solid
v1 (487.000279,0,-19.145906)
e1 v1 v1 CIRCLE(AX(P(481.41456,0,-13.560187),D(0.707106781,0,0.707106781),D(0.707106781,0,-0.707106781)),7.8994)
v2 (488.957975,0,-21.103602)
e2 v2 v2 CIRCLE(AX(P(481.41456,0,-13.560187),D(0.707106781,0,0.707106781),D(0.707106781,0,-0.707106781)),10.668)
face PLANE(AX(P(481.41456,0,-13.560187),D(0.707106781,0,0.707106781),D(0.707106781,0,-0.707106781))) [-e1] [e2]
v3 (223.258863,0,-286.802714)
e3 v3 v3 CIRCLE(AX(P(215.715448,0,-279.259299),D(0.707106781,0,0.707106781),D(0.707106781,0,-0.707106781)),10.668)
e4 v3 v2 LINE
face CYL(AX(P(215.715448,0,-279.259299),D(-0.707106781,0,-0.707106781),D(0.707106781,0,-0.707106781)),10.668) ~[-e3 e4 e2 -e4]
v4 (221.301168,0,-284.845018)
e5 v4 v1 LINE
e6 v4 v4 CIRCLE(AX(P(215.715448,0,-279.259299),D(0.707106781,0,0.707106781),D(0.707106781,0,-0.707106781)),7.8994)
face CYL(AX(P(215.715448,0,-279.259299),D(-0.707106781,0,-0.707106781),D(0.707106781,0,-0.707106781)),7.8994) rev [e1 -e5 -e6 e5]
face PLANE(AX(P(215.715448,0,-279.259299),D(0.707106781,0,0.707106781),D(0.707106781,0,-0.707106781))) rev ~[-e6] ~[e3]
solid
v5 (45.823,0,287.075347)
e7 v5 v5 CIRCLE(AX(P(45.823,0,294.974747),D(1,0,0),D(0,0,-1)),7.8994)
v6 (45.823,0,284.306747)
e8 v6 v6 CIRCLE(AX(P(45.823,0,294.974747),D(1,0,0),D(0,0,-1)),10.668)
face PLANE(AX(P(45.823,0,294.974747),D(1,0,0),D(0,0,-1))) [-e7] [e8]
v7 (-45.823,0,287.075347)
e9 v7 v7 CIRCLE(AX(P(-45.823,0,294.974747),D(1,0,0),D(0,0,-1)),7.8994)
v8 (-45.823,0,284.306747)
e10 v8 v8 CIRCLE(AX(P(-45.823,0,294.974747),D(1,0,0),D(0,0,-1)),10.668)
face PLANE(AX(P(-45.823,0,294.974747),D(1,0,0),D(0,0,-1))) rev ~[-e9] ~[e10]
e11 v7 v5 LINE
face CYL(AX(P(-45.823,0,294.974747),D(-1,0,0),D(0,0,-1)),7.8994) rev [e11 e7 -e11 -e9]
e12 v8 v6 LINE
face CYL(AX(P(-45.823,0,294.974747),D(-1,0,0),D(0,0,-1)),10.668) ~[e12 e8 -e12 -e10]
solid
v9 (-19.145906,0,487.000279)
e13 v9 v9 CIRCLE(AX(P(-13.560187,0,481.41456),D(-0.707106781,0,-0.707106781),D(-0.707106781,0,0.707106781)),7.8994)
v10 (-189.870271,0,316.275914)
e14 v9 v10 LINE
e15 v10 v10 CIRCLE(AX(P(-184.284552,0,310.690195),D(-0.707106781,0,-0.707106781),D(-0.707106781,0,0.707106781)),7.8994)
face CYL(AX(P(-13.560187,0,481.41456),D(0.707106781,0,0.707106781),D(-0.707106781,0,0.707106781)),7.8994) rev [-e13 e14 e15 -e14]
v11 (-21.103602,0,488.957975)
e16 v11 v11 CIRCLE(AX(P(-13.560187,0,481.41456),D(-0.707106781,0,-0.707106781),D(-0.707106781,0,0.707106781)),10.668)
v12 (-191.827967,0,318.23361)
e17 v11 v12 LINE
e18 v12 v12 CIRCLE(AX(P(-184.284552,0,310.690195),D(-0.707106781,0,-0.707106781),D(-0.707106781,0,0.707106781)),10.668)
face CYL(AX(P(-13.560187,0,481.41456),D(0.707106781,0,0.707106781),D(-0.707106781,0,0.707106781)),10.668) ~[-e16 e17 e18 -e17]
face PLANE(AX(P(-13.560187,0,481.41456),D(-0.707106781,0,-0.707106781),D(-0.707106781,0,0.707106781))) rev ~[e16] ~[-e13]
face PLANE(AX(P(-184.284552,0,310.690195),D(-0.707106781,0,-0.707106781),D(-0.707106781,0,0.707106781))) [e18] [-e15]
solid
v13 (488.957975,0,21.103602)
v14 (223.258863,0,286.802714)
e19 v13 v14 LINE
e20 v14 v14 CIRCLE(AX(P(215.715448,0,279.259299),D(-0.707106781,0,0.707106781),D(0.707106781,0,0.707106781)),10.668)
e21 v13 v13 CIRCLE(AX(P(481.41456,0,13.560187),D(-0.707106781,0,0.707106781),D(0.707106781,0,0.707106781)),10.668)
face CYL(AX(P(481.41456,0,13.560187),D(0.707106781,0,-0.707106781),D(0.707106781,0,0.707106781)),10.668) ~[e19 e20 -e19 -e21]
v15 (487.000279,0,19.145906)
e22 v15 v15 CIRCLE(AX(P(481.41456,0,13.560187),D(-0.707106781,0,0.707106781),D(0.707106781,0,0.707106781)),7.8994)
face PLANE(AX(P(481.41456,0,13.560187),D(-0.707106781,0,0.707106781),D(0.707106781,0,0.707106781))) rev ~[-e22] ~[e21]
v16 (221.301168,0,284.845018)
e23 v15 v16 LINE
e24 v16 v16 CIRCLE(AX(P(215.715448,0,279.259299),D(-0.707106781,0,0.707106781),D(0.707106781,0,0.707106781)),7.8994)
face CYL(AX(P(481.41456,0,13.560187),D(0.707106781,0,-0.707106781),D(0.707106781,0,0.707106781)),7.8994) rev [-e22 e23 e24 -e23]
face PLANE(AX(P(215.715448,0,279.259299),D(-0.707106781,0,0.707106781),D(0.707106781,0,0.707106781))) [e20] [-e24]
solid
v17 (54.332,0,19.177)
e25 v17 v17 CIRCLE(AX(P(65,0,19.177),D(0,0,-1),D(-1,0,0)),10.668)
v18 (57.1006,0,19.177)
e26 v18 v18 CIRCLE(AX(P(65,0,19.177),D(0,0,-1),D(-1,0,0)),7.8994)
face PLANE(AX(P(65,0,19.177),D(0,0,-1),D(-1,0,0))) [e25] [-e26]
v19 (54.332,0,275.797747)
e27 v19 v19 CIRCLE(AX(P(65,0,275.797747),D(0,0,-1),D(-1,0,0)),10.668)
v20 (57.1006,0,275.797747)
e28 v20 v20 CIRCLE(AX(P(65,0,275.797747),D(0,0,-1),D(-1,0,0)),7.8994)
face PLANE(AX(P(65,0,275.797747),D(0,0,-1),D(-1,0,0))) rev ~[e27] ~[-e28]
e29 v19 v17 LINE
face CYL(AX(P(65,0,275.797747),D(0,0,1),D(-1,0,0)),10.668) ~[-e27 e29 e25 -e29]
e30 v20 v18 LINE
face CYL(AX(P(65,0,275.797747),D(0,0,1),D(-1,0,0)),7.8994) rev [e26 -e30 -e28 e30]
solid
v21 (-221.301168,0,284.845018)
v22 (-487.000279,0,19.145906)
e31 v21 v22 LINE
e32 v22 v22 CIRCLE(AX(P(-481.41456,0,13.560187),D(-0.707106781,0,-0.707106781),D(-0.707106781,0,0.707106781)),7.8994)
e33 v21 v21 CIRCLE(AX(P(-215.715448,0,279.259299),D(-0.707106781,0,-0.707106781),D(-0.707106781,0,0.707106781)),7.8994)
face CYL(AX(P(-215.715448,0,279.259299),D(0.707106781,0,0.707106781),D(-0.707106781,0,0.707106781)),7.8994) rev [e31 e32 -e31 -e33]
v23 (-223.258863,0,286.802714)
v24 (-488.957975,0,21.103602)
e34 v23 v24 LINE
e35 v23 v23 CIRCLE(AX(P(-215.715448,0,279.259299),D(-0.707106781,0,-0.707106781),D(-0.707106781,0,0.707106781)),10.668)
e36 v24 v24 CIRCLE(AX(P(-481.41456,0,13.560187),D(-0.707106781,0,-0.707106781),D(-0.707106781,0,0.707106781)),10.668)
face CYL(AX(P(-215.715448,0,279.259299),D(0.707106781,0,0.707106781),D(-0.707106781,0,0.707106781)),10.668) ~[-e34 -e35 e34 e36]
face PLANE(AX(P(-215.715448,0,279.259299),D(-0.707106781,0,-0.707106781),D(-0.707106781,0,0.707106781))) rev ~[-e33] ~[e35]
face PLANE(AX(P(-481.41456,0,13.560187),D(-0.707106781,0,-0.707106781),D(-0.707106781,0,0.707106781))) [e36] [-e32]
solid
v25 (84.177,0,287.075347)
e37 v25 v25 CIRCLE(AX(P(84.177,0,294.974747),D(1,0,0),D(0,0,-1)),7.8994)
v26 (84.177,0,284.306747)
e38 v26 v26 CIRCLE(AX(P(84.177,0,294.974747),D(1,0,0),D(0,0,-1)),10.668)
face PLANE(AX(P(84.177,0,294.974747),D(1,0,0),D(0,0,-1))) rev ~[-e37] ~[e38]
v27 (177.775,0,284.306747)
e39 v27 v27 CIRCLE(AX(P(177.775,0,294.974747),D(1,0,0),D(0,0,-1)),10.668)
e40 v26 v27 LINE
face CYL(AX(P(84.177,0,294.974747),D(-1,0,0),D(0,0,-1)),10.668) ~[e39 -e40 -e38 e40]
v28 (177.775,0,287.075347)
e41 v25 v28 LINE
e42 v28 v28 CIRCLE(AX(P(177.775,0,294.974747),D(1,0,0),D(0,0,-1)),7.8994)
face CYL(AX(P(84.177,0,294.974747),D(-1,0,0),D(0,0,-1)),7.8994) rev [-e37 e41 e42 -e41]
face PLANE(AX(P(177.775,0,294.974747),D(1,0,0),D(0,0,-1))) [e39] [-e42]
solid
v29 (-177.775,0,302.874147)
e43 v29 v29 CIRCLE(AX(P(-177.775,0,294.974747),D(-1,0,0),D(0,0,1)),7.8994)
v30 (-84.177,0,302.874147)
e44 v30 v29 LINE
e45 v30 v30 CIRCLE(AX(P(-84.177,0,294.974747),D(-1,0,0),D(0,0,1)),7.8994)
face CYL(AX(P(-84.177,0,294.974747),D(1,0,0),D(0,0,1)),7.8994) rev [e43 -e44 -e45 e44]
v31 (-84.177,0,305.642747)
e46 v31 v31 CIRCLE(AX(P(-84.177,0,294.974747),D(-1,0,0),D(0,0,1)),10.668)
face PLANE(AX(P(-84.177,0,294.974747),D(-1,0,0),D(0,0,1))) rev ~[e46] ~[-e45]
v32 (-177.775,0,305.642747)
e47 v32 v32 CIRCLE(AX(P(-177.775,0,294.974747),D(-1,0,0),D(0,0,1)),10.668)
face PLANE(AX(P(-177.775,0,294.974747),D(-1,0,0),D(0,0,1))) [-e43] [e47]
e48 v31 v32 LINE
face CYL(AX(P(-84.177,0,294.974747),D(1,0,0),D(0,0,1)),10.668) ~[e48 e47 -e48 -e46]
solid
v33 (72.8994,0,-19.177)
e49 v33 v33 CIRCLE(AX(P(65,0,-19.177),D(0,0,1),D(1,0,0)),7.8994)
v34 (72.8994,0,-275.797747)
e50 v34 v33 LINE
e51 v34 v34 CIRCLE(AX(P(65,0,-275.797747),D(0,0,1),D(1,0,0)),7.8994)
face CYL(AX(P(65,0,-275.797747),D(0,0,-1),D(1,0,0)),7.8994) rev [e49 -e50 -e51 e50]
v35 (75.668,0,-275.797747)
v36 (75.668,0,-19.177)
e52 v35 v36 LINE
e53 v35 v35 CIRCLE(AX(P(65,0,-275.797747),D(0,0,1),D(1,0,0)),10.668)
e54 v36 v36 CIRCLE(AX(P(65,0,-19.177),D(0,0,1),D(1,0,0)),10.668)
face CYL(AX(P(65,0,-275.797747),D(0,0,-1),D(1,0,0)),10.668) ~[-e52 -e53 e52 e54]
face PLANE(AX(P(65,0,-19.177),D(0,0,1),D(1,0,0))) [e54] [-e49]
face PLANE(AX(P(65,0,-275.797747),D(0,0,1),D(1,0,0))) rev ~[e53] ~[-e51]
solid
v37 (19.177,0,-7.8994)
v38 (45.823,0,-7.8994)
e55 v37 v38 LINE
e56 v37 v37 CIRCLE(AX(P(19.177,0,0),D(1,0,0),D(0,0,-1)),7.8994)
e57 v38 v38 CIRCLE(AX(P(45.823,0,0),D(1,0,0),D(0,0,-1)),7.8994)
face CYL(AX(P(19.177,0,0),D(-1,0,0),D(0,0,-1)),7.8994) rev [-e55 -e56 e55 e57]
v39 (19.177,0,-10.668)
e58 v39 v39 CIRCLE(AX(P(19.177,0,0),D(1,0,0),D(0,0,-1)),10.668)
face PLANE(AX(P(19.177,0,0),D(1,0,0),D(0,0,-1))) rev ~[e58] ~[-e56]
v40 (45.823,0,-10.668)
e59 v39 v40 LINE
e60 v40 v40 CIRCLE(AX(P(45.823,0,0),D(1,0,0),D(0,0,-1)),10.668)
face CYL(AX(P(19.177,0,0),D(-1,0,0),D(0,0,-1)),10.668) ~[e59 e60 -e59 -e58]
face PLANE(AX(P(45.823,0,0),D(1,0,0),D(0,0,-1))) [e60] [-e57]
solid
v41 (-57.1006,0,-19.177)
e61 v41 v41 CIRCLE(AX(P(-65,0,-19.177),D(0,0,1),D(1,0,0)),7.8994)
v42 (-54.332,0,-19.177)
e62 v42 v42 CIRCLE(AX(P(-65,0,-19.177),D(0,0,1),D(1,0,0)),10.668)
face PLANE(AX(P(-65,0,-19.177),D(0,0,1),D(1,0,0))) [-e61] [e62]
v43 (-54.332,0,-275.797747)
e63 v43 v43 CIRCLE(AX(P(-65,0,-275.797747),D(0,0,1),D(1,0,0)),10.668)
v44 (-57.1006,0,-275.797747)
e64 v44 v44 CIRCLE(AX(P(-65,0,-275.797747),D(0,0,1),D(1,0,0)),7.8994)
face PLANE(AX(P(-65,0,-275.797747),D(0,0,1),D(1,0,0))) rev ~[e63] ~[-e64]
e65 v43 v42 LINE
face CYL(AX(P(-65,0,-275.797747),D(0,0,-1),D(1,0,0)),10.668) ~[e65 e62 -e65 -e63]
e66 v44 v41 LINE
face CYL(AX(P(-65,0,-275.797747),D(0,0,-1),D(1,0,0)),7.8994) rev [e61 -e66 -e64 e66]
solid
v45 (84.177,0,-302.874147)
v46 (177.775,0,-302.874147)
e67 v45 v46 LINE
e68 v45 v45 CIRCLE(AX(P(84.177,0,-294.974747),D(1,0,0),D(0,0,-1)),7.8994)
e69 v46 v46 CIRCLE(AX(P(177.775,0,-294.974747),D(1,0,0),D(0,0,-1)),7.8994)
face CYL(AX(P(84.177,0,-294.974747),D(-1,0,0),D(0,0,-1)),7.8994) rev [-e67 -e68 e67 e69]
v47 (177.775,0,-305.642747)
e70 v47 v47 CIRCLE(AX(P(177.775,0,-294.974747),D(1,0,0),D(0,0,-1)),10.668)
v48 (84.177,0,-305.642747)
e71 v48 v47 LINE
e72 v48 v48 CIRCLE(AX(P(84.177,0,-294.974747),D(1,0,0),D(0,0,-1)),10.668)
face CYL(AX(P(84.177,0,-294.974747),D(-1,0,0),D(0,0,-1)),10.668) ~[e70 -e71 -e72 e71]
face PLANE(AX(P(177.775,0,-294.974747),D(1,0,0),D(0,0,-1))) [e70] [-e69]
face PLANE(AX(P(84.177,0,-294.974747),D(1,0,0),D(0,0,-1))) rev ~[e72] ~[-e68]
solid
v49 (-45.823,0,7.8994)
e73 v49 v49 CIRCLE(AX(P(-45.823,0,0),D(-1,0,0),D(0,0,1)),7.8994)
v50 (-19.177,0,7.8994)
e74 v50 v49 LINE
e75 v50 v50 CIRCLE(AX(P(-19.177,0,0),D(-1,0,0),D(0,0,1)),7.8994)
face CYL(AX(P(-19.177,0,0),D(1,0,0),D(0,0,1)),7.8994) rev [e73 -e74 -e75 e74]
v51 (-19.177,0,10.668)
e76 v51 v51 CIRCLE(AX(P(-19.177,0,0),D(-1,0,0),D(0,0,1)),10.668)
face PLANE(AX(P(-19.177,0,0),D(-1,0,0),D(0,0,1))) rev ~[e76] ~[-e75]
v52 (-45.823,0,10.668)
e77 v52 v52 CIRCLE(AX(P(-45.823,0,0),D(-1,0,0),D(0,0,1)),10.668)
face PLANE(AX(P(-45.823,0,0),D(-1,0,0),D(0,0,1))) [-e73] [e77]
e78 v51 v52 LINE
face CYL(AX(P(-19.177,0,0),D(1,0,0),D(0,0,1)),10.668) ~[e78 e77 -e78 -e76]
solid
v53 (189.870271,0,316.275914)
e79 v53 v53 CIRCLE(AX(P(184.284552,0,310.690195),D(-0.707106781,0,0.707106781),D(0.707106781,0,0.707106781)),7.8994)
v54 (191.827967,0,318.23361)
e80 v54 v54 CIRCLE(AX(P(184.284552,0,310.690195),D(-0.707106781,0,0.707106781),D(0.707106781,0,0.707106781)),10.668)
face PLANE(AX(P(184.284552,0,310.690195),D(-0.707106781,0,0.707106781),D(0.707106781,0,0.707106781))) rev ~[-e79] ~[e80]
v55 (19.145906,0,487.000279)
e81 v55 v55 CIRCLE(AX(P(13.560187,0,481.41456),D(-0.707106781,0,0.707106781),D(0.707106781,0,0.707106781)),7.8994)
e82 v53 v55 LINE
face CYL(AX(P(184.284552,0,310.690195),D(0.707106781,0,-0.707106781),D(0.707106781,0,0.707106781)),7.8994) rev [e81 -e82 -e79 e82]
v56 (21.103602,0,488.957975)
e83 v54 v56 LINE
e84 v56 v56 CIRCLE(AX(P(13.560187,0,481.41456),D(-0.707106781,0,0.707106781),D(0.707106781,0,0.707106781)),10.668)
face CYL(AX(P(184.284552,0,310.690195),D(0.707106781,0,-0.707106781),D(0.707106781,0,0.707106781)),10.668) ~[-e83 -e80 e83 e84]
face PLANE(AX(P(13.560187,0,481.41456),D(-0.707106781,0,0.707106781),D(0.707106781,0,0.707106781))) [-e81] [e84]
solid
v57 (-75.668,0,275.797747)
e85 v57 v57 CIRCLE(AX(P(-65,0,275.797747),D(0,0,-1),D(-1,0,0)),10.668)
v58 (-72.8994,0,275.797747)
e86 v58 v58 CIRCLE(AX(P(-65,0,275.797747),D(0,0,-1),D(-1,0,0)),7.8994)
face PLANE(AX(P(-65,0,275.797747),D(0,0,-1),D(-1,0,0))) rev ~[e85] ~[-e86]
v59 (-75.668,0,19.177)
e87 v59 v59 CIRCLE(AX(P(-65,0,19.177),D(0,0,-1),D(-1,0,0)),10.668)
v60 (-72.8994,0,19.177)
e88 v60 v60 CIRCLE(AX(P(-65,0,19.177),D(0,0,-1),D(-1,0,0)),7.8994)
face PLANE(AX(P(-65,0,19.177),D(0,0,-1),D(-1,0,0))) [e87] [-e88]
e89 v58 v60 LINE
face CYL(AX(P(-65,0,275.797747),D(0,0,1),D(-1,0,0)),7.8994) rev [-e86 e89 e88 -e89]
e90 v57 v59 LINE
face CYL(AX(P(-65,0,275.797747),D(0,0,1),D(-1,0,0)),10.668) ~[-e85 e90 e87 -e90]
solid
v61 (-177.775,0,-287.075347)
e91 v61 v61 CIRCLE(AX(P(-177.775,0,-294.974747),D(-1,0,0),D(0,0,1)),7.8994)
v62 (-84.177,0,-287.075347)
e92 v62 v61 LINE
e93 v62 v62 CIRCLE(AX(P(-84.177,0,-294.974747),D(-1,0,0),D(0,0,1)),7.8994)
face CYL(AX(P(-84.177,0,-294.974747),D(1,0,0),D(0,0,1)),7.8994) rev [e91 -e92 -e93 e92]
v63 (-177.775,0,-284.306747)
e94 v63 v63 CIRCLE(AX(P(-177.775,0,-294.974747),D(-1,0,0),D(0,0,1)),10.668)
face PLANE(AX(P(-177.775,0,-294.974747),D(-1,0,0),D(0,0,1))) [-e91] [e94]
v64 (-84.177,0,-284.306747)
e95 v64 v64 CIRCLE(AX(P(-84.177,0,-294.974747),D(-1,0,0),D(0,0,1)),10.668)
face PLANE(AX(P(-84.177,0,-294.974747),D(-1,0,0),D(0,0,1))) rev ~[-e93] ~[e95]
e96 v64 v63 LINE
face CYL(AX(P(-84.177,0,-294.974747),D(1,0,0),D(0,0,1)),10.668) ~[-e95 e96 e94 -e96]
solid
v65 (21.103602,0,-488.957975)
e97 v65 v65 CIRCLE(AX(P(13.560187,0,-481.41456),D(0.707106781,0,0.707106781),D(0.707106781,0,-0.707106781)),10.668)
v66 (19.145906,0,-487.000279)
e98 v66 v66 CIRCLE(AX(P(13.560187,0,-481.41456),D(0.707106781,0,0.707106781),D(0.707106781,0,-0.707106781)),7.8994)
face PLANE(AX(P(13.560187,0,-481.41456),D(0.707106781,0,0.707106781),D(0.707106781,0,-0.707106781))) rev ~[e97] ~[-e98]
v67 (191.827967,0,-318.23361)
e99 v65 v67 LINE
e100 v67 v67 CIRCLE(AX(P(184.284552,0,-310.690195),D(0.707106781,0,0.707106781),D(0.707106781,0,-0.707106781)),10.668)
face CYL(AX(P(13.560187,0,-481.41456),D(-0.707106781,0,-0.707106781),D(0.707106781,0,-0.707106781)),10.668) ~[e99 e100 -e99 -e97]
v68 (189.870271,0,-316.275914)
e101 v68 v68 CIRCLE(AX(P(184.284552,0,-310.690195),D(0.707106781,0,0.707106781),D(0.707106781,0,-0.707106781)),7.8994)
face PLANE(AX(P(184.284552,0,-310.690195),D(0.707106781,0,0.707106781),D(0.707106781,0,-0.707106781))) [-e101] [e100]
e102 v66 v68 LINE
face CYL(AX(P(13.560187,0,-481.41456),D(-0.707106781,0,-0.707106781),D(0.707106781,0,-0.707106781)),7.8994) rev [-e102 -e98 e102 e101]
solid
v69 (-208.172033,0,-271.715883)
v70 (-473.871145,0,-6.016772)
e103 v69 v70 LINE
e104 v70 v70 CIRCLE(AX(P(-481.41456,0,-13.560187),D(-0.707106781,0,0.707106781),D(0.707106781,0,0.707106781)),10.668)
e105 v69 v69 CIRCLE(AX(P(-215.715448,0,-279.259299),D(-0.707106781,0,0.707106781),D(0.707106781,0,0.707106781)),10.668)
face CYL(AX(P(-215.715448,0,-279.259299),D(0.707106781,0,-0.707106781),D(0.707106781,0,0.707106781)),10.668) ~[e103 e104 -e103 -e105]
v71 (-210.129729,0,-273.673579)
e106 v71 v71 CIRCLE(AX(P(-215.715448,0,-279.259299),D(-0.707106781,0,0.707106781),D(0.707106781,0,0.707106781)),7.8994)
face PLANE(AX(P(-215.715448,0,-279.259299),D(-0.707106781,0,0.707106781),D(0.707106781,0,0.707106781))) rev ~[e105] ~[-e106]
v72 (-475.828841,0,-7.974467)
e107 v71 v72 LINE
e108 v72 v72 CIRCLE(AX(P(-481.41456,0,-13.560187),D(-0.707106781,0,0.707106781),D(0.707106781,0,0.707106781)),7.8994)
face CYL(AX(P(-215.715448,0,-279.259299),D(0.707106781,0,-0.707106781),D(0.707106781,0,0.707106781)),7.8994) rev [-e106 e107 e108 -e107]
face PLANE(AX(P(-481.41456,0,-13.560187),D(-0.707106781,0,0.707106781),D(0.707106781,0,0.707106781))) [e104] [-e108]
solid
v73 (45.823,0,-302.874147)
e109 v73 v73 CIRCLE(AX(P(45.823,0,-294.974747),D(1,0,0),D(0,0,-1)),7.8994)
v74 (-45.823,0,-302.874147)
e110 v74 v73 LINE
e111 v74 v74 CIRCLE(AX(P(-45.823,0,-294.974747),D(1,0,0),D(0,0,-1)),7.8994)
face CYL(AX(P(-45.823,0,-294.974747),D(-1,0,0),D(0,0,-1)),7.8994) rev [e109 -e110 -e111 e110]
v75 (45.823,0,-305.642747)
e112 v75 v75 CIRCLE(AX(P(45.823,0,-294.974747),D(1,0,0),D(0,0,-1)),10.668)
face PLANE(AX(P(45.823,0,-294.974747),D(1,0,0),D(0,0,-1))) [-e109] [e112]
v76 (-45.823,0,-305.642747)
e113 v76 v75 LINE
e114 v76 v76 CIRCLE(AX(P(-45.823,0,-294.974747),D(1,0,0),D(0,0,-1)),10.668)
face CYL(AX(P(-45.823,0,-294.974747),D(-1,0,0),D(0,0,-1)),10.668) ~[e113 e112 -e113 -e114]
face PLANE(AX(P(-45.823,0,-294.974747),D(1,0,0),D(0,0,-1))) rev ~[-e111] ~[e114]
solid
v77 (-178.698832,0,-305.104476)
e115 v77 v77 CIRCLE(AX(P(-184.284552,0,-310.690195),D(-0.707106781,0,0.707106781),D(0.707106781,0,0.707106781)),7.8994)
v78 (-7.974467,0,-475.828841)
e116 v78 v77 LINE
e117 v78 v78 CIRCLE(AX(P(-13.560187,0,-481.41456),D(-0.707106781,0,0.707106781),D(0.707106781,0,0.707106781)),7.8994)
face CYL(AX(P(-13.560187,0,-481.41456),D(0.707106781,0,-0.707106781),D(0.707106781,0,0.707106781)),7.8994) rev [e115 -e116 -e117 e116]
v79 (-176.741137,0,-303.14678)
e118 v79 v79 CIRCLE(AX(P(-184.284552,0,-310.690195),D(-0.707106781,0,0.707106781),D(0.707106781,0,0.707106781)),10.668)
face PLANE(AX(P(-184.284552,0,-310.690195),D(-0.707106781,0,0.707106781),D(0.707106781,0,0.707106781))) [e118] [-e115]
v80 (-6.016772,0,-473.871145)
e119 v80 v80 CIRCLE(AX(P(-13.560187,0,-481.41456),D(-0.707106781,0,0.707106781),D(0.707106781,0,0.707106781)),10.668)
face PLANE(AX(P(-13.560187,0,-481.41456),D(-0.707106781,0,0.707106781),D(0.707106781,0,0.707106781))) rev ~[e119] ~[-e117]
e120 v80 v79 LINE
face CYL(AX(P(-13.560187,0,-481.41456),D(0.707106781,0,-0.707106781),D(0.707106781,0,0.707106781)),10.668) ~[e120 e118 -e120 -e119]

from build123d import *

# Parameters (mm, degrees)
SKETCH1_R                  = 10.668
SKETCH1_R_2                = 7.8994
PIPE_0_5_SCH_40_3_DEPTH    = 375.755287525
SKETCH1_ON_SEGMENT_2_R     = 10.668
SKETCH1_ON_SEGMENT_2_R_2   = 7.8994
PIPE_0_5_SCH_40_3_2_DEPTH  = 241.440712475
SKETCH1_ON_SEGMENT_3_R     = 10.668
SKETCH1_ON_SEGMENT_3_R_2   = 7.8994
PIPE_0_5_SCH_40_3_3_DEPTH  = 375.755287525
SKETCH1_ON_SEGMENT_4_R     = 10.668
SKETCH1_ON_SEGMENT_4_R_2   = 7.8994
PIPE_0_5_SCH_40_3_4_DEPTH  = 241.440712475
SKETCH1_ON_SEGMENT_5_R     = 10.668
SKETCH1_ON_SEGMENT_5_R_2   = 7.8994
PIPE_0_5_SCH_40_3_5_DEPTH  = 375.755287525
SKETCH1_ON_SEGMENT_6_R     = 10.668
SKETCH1_ON_SEGMENT_6_R_2   = 7.8994
PIPE_0_5_SCH_40_3_6_DEPTH  = 241.440712475
SKETCH1_ON_SEGMENT_7_R     = 10.668
SKETCH1_ON_SEGMENT_7_R_2   = 7.8994
PIPE_0_5_SCH_40_3_7_DEPTH  = 241.440712475
SKETCH1_ON_SEGMENT_8_R     = 10.668
SKETCH1_ON_SEGMENT_8_R_2   = 7.8994
PIPE_0_5_SCH_40_3_8_DEPTH  = 375.755287525
SKETCH1_ON_SEGMENT_9_R     = 10.668
SKETCH1_ON_SEGMENT_9_R_2   = 7.8994
PIPE_0_5_SCH_40_3_9_DEPTH  = 256.620746831
SKETCH1_ON_SEGMENT_10_R    = 10.668
SKETCH1_ON_SEGMENT_10_R_2  = 7.8994
PIPE_0_5_SCH_40_3_10_DEPTH = 256.620746831
SKETCH1_ON_SEGMENT_11_R    = 10.668
SKETCH1_ON_SEGMENT_11_R_2  = 7.8994
PIPE_0_5_SCH_40_3_11_DEPTH = 256.620746831
SKETCH1_ON_SEGMENT_12_R    = 10.668
SKETCH1_ON_SEGMENT_12_R_2  = 7.8994
PIPE_0_5_SCH_40_3_12_DEPTH = 256.620746831
SKETCH1_ON_SEGMENT_13_R    = 10.668
SKETCH1_ON_SEGMENT_13_R_2  = 7.8994
PIPE_0_5_SCH_40_3_13_DEPTH = 93.598
SKETCH1_ON_SEGMENT_14_R    = 10.668
SKETCH1_ON_SEGMENT_14_R_2  = 7.8994
PIPE_0_5_SCH_40_3_14_DEPTH = 91.646
SKETCH1_ON_SEGMENT_15_R    = 10.668
SKETCH1_ON_SEGMENT_15_R_2  = 7.8994
PIPE_0_5_SCH_40_3_15_DEPTH = 93.598
SKETCH1_ON_SEGMENT_16_R    = 10.668
SKETCH1_ON_SEGMENT_16_R_2  = 7.8994
PIPE_0_5_SCH_40_3_16_DEPTH = 26.646
SKETCH1_ON_SEGMENT_17_R    = 10.668
SKETCH1_ON_SEGMENT_17_R_2  = 7.8994
PIPE_0_5_SCH_40_3_17_DEPTH = 26.646
SKETCH1_ON_SEGMENT_18_R    = 10.668
SKETCH1_ON_SEGMENT_18_R_2  = 7.8994
PIPE_0_5_SCH_40_3_18_DEPTH = 93.598
SKETCH1_ON_SEGMENT_19_R    = 10.668
SKETCH1_ON_SEGMENT_19_R_2  = 7.8994
PIPE_0_5_SCH_40_3_19_DEPTH = 91.646
SKETCH1_ON_SEGMENT_20_R    = 10.668
SKETCH1_ON_SEGMENT_20_R_2  = 7.8994
PIPE_0_5_SCH_40_3_20_DEPTH = 93.598


with BuildPart() as part:
    # Sketch1 → Pipe 0.5 SCH 40(3) (new body)
    with BuildSketch(Plane(origin=(-215.715448212, 0, -279.259298619), x_dir=(0.7071067811865476, 0, 0.7071067811865475), z_dir=(-0.7071067811865475, 0, 0.7071067811865476))):
        Circle(SKETCH1_R)
        Circle(SKETCH1_R_2, mode=Mode.SUBTRACT)
    extrude(amount=PIPE_0_5_SCH_40_3_DEPTH)


with BuildPart() as body_2:
    # Sketch1 on segment 2 (carried to segment 2) → Pipe 0.5 SCH 40_3 2 (new body)
    with BuildSketch(Plane(origin=(-13.560186743, 0, -481.414560088), x_dir=(0.707106781, 0, 0.707106781), z_dir=(-0.707106781, 0, 0.707106781))):
        Circle(SKETCH1_ON_SEGMENT_2_R)
        Circle(SKETCH1_ON_SEGMENT_2_R_2, mode=Mode.SUBTRACT)
    extrude(amount=PIPE_0_5_SCH_40_3_2_DEPTH)


with BuildPart() as body_3:
    # Sketch1 on segment 3 (carried to segment 3) → Pipe 0.5 SCH 40_3 3 (new body)
    with BuildSketch(Plane(origin=(481.414560088, 0, 13.560186743), x_dir=(0.707106781, 0, 0.707106781), z_dir=(-0.707106781, 0, 0.707106781))):
        Circle(SKETCH1_ON_SEGMENT_3_R)
        Circle(SKETCH1_ON_SEGMENT_3_R_2, mode=Mode.SUBTRACT)
    extrude(amount=PIPE_0_5_SCH_40_3_3_DEPTH)


with BuildPart() as body_4:
    # Sketch1 on segment 4 (carried to segment 4) → Pipe 0.5 SCH 40_3 4 (new body)
    with BuildSketch(Plane(origin=(184.284551788, 0, 310.690195042), x_dir=(0.707106781, 0, 0.707106781), z_dir=(-0.707106781, 0, 0.707106781))):
        Circle(SKETCH1_ON_SEGMENT_4_R)
        Circle(SKETCH1_ON_SEGMENT_4_R_2, mode=Mode.SUBTRACT)
    extrude(amount=PIPE_0_5_SCH_40_3_4_DEPTH)


with BuildPart() as body_5:
    # Sketch1 on segment 5 (carried to segment 5) → Pipe 0.5 SCH 40_3 5 (new body)
    with BuildSketch(Plane(origin=(-215.715448212, 0, 279.259298619), x_dir=(-0.707106781, 0, 0.707106781), z_dir=(-0.707106781, 0, -0.707106781))):
        Circle(SKETCH1_ON_SEGMENT_5_R)
        Circle(SKETCH1_ON_SEGMENT_5_R_2, mode=Mode.SUBTRACT)
    extrude(amount=PIPE_0_5_SCH_40_3_5_DEPTH)


with BuildPart() as body_6:
    # Sketch1 on segment 6 (carried to segment 6) → Pipe 0.5 SCH 40_3 6 (new body)
    with BuildSketch(Plane(origin=(-13.560186743, 0, 481.414560088), x_dir=(-0.707106781, 0, 0.707106781), z_dir=(-0.707106781, 0, -0.707106781))):
        Circle(SKETCH1_ON_SEGMENT_6_R)
        Circle(SKETCH1_ON_SEGMENT_6_R_2, mode=Mode.SUBTRACT)
    extrude(amount=PIPE_0_5_SCH_40_3_6_DEPTH)


with BuildPart() as body_7:
    # Sketch1 on segment 7 (carried to segment 7) → Pipe 0.5 SCH 40_3 7 (new body)
    with BuildSketch(Plane(origin=(13.560186743, 0, -481.414560088), x_dir=(0.707106781, 0, -0.707106781), z_dir=(0.707106781, 0, 0.707106781))):
        Circle(SKETCH1_ON_SEGMENT_7_R)
        Circle(SKETCH1_ON_SEGMENT_7_R_2, mode=Mode.SUBTRACT)
    extrude(amount=PIPE_0_5_SCH_40_3_7_DEPTH)


with BuildPart() as body_8:
    # Sketch1 on segment 8 (carried to segment 8) → Pipe 0.5 SCH 40_3 8 (new body)
    with BuildSketch(Plane(origin=(215.715448212, 0, -279.259298619), x_dir=(0.707106781, 0, -0.707106781), z_dir=(0.707106781, 0, 0.707106781))):
        Circle(SKETCH1_ON_SEGMENT_8_R)
        Circle(SKETCH1_ON_SEGMENT_8_R_2, mode=Mode.SUBTRACT)
    extrude(amount=PIPE_0_5_SCH_40_3_8_DEPTH)


with BuildPart() as body_9:
    # Sketch1 on segment 9 (carried to segment 9) → Pipe 0.5 SCH 40_3 9 (new body)
    with BuildSketch(Plane(origin=(-65, 0, -275.797746831), x_dir=(1, 0, 0), z_dir=(0, 0, 1))):
        Circle(SKETCH1_ON_SEGMENT_9_R)
        Circle(SKETCH1_ON_SEGMENT_9_R_2, mode=Mode.SUBTRACT)
    extrude(amount=PIPE_0_5_SCH_40_3_9_DEPTH)


with BuildPart() as body_10:
    # Sketch1 on segment 10 (carried to segment 10) → Pipe 0.5 SCH 40_3 10 (new body)
    with BuildSketch(Plane(origin=(65, 0, -275.797746831), x_dir=(1, 0, 0), z_dir=(0, 0, 1))):
        Circle(SKETCH1_ON_SEGMENT_10_R)
        Circle(SKETCH1_ON_SEGMENT_10_R_2, mode=Mode.SUBTRACT)
    extrude(amount=PIPE_0_5_SCH_40_3_10_DEPTH)


with BuildPart() as body_11:
    # Sketch1 on segment 11 (carried to segment 11) → Pipe 0.5 SCH 40_3 11 (new body)
    with BuildSketch(Plane(origin=(-65, 0, 275.797746831), x_dir=(-1, 0, 0), z_dir=(0, 0, -1))):
        Circle(SKETCH1_ON_SEGMENT_11_R)
        Circle(SKETCH1_ON_SEGMENT_11_R_2, mode=Mode.SUBTRACT)
    extrude(amount=PIPE_0_5_SCH_40_3_11_DEPTH)


with BuildPart() as body_12:
    # Sketch1 on segment 12 (carried to segment 12) → Pipe 0.5 SCH 40_3 12 (new body)
    with BuildSketch(Plane(origin=(65, 0, 275.797746831), x_dir=(-1, 0, 0), z_dir=(0, 0, -1))):
        Circle(SKETCH1_ON_SEGMENT_12_R)
        Circle(SKETCH1_ON_SEGMENT_12_R_2, mode=Mode.SUBTRACT)
    extrude(amount=PIPE_0_5_SCH_40_3_12_DEPTH)


with BuildPart() as body_13:
    # Sketch1 on segment 13 (carried to segment 13) → Pipe 0.5 SCH 40_3 13 (new body)
    with BuildSketch(Plane(origin=(-84.177, 0, 294.974746831), x_dir=(0, 0, 1), z_dir=(-1, 0, 0))):
        Circle(SKETCH1_ON_SEGMENT_13_R)
        Circle(SKETCH1_ON_SEGMENT_13_R_2, mode=Mode.SUBTRACT)
    extrude(amount=PIPE_0_5_SCH_40_3_13_DEPTH)


with BuildPart() as body_14:
    # Sketch1 on segment 14 (carried to segment 14) → Pipe 0.5 SCH 40_3 14 (new body)
    with BuildSketch(Plane(origin=(-45.823, 0, 294.974746831), x_dir=(0, 0, -1), z_dir=(1, 0, 0))):
        Circle(SKETCH1_ON_SEGMENT_14_R)
        Circle(SKETCH1_ON_SEGMENT_14_R_2, mode=Mode.SUBTRACT)
    extrude(amount=PIPE_0_5_SCH_40_3_14_DEPTH)


with BuildPart() as body_15:
    # Sketch1 on segment 15 (carried to segment 15) → Pipe 0.5 SCH 40_3 15 (new body)
    with BuildSketch(Plane(origin=(84.177, 0, 294.974746831), x_dir=(0, 0, -1), z_dir=(1, 0, 0))):
        Circle(SKETCH1_ON_SEGMENT_15_R)
        Circle(SKETCH1_ON_SEGMENT_15_R_2, mode=Mode.SUBTRACT)
    extrude(amount=PIPE_0_5_SCH_40_3_15_DEPTH)


with BuildPart() as body_16:
    # Sketch1 on segment 16 (carried to segment 16) → Pipe 0.5 SCH 40_3 16 (new body)
    with BuildSketch(Plane.ZY.offset(19.177)):
        Circle(SKETCH1_ON_SEGMENT_16_R)
        Circle(SKETCH1_ON_SEGMENT_16_R_2, mode=Mode.SUBTRACT)
    extrude(amount=PIPE_0_5_SCH_40_3_16_DEPTH)


with BuildPart() as body_17:
    # Sketch1 on segment 17 (carried to segment 17) → Pipe 0.5 SCH 40_3 17 (new body)
    with BuildSketch(Plane(origin=(19.177, 0, 0), x_dir=(0, 0, -1), z_dir=(1, 0, 0))):
        Circle(SKETCH1_ON_SEGMENT_17_R)
        Circle(SKETCH1_ON_SEGMENT_17_R_2, mode=Mode.SUBTRACT)
    extrude(amount=PIPE_0_5_SCH_40_3_17_DEPTH)


with BuildPart() as body_18:
    # Sketch1 on segment 18 (carried to segment 18) → Pipe 0.5 SCH 40_3 18 (new body)
    with BuildSketch(Plane(origin=(-84.177, 0, -294.974746831), x_dir=(0, 0, 1), z_dir=(-1, 0, 0))):
        Circle(SKETCH1_ON_SEGMENT_18_R)
        Circle(SKETCH1_ON_SEGMENT_18_R_2, mode=Mode.SUBTRACT)
    extrude(amount=PIPE_0_5_SCH_40_3_18_DEPTH)


with BuildPart() as body_19:
    # Sketch1 on segment 19 (carried to segment 19) → Pipe 0.5 SCH 40_3 19 (new body)
    with BuildSketch(Plane(origin=(-45.823, 0, -294.974746831), x_dir=(0, 0, -1), z_dir=(1, 0, 0))):
        Circle(SKETCH1_ON_SEGMENT_19_R)
        Circle(SKETCH1_ON_SEGMENT_19_R_2, mode=Mode.SUBTRACT)
    extrude(amount=PIPE_0_5_SCH_40_3_19_DEPTH)


with BuildPart() as body_20:
    # Sketch1 on segment 20 (carried to segment 20) → Pipe 0.5 SCH 40_3 20 (new body)
    with BuildSketch(Plane(origin=(84.177, 0, -294.974746831), x_dir=(0, 0, -1), z_dir=(1, 0, 0))):
        Circle(SKETCH1_ON_SEGMENT_20_R)
        Circle(SKETCH1_ON_SEGMENT_20_R_2, mode=Mode.SUBTRACT)
    extrude(amount=PIPE_0_5_SCH_40_3_20_DEPTH)


solid = Compound([part.part, body_2.part, body_3.part, body_4.part, body_5.part, body_6.part, body_7.part, body_8.part, body_9.part, body_10.part, body_11.part, body_12.part, body_13.part, body_14.part, body_15.part, body_16.part, body_17.part, body_18.part, body_19.part, body_20.part])
